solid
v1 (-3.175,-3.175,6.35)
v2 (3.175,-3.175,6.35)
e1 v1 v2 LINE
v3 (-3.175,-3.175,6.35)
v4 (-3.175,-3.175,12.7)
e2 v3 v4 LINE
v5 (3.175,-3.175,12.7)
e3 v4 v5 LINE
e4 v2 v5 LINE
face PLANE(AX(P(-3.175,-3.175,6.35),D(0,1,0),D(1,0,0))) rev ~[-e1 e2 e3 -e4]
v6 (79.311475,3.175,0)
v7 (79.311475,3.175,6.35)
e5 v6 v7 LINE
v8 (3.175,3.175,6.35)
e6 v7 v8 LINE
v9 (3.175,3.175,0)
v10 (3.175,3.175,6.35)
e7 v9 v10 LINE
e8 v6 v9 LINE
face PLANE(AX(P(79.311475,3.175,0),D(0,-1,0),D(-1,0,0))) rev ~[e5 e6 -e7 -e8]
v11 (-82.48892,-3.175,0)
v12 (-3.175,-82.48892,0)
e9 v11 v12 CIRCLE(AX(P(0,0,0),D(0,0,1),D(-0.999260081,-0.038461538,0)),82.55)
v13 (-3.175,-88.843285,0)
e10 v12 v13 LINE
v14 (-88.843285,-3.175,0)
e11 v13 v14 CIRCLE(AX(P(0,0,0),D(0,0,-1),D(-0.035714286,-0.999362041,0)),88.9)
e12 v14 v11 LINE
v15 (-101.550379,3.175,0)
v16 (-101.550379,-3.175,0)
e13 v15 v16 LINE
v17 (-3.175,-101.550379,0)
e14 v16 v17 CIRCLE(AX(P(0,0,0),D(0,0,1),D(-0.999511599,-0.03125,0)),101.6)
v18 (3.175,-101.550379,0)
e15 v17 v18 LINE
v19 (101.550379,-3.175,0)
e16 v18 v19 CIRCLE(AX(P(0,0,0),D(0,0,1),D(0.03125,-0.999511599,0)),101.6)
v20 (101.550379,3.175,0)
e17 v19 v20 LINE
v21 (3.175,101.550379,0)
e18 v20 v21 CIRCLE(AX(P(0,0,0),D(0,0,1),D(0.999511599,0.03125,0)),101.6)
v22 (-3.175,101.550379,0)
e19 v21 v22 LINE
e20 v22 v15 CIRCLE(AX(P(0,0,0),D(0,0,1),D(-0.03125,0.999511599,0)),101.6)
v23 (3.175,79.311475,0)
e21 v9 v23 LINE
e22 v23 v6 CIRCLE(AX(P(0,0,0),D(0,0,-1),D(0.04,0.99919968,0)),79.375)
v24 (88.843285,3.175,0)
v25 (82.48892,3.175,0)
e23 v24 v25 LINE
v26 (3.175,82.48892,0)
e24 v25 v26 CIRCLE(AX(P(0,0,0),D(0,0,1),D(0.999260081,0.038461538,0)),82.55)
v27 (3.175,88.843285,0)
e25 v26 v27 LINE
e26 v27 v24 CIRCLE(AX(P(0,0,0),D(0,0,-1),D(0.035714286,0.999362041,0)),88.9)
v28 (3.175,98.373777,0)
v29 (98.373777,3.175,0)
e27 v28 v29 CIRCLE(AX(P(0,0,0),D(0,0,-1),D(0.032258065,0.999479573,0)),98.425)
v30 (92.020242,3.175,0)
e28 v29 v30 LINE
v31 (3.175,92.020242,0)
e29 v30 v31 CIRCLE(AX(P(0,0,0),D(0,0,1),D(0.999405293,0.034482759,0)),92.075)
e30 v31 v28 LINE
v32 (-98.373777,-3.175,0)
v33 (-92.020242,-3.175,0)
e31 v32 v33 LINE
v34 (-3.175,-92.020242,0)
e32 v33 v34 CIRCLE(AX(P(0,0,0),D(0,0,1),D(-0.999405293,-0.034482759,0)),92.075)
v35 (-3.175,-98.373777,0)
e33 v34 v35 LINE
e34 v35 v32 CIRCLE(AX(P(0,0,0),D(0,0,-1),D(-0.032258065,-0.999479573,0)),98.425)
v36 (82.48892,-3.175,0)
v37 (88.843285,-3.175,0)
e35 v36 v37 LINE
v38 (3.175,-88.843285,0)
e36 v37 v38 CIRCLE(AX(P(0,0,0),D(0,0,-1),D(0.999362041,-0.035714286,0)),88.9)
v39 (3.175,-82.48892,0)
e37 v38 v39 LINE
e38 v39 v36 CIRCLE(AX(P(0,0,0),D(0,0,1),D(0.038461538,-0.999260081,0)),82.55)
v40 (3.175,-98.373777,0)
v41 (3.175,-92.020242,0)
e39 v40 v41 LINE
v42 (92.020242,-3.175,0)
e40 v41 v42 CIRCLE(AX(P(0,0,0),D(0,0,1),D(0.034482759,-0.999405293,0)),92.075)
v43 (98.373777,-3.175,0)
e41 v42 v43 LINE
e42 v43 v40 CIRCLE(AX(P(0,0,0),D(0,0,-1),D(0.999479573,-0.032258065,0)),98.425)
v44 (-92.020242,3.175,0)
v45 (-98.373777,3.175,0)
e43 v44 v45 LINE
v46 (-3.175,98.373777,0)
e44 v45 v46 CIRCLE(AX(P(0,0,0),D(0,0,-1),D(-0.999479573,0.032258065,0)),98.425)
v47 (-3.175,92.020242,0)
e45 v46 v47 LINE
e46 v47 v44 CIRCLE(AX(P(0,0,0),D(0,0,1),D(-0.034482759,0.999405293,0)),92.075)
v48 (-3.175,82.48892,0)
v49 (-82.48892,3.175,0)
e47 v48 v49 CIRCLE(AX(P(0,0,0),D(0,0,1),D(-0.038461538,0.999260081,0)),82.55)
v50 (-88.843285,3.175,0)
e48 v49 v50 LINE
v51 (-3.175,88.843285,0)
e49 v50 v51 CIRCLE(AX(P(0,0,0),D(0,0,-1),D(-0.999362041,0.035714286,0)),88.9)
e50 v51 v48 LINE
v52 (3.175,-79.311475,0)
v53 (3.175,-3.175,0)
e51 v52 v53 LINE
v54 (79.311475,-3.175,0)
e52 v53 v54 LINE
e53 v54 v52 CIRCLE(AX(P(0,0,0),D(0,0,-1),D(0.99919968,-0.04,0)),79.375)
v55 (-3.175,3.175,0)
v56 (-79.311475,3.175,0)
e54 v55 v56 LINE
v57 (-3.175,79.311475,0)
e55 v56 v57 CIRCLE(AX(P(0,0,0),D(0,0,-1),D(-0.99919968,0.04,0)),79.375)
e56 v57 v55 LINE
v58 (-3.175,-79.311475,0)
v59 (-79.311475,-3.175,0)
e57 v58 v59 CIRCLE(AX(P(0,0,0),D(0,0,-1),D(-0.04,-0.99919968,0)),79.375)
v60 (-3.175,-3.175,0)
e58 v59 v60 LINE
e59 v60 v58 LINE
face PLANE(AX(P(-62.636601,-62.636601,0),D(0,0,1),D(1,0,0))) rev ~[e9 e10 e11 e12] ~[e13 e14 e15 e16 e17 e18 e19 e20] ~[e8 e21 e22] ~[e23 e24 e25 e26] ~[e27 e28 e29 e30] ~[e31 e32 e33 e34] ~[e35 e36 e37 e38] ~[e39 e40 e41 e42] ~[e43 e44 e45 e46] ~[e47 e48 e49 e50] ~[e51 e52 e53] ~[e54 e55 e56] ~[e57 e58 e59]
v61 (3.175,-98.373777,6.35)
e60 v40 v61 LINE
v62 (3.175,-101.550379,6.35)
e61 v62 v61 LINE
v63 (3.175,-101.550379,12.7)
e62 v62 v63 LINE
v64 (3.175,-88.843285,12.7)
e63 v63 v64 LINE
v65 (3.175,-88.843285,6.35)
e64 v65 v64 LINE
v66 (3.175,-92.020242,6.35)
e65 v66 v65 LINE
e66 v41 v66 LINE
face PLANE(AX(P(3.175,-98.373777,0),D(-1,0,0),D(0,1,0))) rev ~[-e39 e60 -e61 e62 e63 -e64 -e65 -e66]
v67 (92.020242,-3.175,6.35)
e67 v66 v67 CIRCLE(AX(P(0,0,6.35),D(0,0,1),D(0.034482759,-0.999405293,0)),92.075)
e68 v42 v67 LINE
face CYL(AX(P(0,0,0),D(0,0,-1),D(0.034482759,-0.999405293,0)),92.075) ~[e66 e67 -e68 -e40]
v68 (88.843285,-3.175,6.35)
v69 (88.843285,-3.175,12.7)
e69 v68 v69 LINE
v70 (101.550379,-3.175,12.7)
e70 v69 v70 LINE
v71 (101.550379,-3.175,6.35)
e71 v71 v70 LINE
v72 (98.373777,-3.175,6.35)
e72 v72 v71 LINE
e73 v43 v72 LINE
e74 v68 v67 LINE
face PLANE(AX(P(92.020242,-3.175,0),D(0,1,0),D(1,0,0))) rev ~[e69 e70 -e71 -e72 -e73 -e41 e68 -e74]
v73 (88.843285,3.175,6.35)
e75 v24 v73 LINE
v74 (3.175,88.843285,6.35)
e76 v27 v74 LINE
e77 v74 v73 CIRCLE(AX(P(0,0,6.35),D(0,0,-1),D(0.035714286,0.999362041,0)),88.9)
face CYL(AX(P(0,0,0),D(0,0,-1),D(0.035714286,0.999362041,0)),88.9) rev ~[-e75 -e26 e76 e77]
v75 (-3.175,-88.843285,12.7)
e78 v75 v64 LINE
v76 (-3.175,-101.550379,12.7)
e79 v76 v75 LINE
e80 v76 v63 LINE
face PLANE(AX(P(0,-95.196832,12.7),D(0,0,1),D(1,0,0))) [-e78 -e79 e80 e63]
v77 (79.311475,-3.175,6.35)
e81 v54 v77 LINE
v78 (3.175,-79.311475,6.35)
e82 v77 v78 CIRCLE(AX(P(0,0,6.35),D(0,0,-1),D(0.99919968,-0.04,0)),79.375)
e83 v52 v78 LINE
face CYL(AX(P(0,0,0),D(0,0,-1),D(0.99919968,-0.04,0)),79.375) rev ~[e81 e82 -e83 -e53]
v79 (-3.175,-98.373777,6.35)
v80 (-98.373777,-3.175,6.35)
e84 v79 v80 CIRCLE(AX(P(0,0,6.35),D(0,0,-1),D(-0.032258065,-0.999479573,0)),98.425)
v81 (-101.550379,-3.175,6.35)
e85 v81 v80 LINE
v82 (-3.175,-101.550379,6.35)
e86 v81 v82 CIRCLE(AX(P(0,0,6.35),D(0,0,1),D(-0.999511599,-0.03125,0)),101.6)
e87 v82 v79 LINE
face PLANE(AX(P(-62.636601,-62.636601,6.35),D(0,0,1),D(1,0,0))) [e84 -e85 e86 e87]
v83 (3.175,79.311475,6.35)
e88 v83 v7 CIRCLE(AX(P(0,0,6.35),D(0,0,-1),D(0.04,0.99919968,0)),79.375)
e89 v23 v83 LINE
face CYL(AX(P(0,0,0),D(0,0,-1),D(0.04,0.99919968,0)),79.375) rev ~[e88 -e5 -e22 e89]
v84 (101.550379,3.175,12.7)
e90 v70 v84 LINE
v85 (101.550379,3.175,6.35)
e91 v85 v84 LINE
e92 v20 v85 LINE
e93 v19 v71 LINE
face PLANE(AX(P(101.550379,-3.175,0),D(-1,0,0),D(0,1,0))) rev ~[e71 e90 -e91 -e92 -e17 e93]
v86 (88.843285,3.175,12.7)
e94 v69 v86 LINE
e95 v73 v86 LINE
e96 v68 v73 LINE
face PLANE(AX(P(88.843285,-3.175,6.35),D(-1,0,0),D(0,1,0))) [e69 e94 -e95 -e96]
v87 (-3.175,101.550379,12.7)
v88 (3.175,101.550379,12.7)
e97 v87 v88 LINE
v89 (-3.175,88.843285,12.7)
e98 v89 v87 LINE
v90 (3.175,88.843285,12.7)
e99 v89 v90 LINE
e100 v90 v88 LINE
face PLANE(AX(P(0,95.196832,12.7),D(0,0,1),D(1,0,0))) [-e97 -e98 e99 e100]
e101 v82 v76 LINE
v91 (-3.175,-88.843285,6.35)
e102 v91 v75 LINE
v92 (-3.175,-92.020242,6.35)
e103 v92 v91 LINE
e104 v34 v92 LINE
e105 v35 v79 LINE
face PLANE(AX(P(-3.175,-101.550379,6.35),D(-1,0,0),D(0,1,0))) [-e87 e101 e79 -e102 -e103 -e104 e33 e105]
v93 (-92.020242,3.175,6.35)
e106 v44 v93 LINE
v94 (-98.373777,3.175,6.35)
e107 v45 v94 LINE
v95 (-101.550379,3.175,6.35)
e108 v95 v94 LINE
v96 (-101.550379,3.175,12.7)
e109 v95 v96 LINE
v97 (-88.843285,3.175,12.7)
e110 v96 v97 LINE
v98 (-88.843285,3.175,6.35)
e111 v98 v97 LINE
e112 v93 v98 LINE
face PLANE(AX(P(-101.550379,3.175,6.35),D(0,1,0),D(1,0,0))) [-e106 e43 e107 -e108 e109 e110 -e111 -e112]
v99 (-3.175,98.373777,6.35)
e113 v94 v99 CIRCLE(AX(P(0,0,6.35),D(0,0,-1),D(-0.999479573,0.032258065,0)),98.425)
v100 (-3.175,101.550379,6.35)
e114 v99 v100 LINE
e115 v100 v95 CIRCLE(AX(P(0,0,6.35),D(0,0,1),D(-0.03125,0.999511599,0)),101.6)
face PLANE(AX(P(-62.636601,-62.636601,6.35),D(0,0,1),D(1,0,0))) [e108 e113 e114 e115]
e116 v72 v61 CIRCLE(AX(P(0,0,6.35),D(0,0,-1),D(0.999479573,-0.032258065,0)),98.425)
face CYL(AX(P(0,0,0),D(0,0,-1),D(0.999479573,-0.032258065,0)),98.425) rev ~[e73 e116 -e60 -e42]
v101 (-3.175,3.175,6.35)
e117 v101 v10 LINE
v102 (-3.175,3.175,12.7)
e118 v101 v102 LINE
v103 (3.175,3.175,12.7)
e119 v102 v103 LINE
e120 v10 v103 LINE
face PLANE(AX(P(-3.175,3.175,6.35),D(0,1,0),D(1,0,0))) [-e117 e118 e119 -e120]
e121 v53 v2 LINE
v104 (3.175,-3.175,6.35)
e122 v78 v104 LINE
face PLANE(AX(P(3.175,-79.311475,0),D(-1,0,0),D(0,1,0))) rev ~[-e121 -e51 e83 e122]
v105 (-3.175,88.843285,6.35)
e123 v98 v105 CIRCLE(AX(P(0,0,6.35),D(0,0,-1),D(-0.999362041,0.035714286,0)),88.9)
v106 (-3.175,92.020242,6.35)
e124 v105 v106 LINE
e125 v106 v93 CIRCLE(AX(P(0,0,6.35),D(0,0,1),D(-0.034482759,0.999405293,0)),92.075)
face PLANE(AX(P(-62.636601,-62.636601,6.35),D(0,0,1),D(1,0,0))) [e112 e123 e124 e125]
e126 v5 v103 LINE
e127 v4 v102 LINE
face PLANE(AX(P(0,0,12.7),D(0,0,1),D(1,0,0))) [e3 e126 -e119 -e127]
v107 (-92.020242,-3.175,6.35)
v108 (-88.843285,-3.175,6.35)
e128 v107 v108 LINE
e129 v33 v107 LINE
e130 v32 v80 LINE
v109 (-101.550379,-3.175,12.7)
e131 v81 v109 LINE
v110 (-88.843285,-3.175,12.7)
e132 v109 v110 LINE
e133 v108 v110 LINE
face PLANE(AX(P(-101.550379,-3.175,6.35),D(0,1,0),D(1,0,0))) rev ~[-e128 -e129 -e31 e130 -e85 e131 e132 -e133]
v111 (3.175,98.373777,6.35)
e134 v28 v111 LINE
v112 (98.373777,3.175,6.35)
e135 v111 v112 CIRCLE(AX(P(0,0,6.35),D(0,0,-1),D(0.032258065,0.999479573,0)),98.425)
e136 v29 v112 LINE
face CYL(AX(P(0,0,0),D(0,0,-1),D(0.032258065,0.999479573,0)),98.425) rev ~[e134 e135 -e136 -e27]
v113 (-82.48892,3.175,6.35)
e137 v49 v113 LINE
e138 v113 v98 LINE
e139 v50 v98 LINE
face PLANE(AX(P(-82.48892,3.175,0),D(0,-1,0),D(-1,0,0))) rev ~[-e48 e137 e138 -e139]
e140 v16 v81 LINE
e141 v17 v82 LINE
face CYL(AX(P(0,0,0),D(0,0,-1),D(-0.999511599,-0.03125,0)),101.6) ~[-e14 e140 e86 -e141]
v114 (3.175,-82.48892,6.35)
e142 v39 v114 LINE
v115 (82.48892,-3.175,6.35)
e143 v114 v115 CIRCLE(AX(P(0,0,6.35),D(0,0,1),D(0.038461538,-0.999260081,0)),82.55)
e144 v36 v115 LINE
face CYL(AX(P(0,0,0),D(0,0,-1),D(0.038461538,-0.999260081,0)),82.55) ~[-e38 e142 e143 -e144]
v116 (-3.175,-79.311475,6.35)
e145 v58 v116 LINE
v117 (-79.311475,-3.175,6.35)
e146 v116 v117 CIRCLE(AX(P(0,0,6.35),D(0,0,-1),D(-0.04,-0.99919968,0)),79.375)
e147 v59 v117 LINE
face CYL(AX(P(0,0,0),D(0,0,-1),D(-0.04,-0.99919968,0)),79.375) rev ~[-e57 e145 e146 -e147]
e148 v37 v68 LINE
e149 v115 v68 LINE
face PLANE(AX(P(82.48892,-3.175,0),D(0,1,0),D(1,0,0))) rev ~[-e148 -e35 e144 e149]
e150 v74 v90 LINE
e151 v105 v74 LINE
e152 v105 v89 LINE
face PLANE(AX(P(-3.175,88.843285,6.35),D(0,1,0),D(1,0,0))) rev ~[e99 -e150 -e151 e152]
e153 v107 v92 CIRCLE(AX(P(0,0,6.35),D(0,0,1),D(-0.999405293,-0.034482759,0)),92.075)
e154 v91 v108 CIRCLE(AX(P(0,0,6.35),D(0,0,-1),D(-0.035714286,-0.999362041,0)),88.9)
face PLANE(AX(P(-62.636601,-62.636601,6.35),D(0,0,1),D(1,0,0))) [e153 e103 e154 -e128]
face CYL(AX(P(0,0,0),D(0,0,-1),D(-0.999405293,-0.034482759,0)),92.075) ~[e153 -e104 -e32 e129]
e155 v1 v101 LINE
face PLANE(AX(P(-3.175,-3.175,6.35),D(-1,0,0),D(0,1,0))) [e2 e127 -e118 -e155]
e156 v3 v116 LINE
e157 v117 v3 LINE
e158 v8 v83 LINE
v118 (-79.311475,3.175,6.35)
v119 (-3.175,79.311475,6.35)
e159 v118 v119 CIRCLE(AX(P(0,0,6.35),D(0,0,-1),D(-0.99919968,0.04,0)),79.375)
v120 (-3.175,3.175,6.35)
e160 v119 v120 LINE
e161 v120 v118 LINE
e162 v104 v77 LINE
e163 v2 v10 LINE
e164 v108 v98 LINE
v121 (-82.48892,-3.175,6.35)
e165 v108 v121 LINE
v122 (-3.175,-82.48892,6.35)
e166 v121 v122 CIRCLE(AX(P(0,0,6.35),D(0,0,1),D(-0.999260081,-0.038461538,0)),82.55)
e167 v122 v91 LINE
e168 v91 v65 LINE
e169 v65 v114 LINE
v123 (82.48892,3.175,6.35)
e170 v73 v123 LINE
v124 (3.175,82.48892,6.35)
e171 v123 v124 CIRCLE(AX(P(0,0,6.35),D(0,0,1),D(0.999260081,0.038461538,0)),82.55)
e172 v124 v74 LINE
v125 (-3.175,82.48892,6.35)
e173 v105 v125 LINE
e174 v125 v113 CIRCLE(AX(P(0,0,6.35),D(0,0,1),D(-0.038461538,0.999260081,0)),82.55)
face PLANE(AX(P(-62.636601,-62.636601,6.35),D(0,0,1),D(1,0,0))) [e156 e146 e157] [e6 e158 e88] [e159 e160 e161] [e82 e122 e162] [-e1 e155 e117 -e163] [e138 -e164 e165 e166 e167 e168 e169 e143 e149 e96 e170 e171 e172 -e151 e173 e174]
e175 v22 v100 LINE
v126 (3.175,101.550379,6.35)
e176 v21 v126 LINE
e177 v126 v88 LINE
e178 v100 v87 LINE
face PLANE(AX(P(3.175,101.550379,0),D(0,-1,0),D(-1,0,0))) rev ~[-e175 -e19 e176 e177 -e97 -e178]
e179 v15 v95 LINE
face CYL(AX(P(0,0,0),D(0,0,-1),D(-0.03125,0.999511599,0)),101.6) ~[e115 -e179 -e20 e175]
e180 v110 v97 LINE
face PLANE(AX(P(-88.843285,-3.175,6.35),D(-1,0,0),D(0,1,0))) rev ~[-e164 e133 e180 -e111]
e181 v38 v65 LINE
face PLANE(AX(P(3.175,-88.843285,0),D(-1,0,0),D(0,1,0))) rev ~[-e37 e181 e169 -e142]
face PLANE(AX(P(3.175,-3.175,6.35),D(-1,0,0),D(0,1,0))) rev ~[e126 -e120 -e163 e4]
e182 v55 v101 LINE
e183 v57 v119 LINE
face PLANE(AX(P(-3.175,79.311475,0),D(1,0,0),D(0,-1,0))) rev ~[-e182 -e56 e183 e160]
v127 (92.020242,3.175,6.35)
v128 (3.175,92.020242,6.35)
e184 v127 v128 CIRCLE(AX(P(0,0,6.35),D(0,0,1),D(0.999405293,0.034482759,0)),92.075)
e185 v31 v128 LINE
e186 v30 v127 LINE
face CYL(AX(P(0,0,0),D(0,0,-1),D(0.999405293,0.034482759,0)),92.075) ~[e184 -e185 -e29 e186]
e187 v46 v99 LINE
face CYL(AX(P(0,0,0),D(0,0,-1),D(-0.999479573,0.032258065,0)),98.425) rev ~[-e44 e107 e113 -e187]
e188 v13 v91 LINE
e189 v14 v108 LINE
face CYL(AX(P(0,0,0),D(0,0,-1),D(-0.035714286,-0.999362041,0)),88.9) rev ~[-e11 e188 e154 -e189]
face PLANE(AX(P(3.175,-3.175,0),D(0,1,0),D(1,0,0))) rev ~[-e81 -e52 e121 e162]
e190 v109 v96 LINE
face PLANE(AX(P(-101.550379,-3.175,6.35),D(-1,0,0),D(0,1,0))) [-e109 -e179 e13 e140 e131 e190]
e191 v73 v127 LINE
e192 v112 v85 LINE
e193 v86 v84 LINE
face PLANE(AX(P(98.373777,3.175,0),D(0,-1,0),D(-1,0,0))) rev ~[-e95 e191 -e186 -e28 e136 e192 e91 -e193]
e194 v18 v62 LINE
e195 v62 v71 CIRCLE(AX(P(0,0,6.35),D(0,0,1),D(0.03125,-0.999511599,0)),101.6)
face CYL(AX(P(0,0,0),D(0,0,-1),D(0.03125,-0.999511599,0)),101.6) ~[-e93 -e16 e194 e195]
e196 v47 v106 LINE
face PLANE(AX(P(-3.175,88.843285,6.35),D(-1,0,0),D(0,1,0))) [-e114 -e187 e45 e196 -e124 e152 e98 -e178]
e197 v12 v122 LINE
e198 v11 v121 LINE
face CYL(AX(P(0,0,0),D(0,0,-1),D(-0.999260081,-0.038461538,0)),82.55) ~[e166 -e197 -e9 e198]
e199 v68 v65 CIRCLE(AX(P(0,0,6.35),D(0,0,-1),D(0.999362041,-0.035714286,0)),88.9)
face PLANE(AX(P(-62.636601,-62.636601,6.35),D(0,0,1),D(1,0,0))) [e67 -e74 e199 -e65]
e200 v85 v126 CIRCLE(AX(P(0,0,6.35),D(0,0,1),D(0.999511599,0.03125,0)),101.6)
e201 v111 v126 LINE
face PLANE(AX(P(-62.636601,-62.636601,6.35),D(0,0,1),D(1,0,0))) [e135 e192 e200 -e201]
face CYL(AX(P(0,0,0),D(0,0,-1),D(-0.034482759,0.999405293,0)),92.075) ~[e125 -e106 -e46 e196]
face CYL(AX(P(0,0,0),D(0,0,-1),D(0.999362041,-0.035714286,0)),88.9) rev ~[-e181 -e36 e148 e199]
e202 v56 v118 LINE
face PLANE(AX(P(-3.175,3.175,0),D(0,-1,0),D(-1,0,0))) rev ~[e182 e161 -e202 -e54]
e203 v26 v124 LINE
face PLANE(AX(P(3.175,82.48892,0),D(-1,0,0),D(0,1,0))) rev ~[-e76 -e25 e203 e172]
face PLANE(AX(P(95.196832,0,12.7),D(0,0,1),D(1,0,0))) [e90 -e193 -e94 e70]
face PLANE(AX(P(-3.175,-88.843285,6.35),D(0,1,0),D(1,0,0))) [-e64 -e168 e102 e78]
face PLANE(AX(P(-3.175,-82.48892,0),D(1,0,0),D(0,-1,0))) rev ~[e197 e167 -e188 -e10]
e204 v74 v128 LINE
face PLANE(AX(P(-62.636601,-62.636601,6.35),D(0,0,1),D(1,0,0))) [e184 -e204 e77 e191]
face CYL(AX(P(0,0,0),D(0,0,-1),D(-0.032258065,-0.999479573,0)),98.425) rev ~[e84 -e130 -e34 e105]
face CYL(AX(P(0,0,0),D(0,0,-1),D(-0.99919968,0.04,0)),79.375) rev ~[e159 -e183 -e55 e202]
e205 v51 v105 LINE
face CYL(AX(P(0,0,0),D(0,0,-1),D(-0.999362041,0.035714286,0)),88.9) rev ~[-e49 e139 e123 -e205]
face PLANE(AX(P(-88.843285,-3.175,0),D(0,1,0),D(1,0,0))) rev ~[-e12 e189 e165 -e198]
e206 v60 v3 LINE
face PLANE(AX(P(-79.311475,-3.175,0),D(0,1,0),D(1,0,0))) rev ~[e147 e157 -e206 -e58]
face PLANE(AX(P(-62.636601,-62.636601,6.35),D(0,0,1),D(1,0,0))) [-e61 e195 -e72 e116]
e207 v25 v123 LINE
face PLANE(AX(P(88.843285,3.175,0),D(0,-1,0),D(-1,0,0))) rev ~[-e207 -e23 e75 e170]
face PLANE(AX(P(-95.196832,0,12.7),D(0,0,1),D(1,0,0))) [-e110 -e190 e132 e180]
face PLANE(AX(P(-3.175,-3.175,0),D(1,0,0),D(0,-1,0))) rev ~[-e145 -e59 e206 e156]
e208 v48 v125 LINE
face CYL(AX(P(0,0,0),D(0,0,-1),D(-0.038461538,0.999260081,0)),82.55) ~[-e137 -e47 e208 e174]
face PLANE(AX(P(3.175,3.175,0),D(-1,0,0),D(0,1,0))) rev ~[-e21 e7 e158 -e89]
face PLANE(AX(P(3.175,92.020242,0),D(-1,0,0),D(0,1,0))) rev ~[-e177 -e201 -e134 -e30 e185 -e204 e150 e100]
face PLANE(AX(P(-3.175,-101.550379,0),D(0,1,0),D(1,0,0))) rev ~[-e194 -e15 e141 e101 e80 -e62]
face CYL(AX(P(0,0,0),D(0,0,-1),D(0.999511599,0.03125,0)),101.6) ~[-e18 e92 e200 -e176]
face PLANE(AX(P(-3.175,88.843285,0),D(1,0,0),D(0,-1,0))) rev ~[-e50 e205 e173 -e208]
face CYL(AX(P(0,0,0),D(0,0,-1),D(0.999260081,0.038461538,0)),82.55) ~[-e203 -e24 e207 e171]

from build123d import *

# Parameters (mm, degrees)
F0_W     = 6.35
F0_H     = 6.35
F1_DEPTH = 6.35
F2_W     = 12.7070930267
F2_H     = 6.35
F2_W_2   = 6.35
F2_H_2   = 12.7070930267
F3_DEPTH = 6.35


with BuildPart() as f1:
    # F0 (on Top) → F1 (new body)
    with BuildSketch(Plane.XY):
        with BuildLine():
            ThreePointArc((-101.5503785074, -3.175), (-71.8420489686, -71.8420489686), (-3.175, -101.5503785074))
            Line((-3.175, -101.5503785074), (-3.175, -98.3737769937))
            ThreePointArc((-3.175, -98.3737769937), (-69.5969849383, -69.5969849383), (-98.3737769937, -3.175))
            Line((-98.3737769937, -3.175), (-101.5503785074, -3.175))
        make_face()
        with BuildLine():
            Line((-3.175, 98.3737769937), (-3.175, 101.5503785074))
            ThreePointArc((-3.175, 101.5503785074), (-71.8420489686, 71.8420489686), (-101.5503785074, 3.175))
            Line((-101.5503785074, 3.175), (-98.3737769937, 3.175))
            ThreePointArc((-98.3737769937, 3.175), (-69.5969849383, 69.5969849383), (-3.175, 98.3737769937))
        make_face()
        with BuildLine():
            Line((-98.3737769937, 3.175), (-101.5503785074, 3.175))
            Line((-101.5503785074, 3.175), (-101.5503785074, -3.175))
            Line((-101.5503785074, -3.175), (-98.3737769937, -3.175))
            ThreePointArc((-98.3737769937, -3.175), (-98.425, 0), (-98.3737769937, 3.175))
        make_face()
        with BuildLine():
            Line((-92.0202423383, 3.175), (-98.3737769937, 3.175))
            ThreePointArc((-98.3737769937, 3.175), (-98.425, 0), (-98.3737769937, -3.175))
            Line((-98.3737769937, -3.175), (-92.0202423383, -3.175))
            ThreePointArc((-92.0202423383, -3.175), (-92.075, 0), (-92.0202423383, 3.175))
        make_face()
        with BuildLine():
            Line((-88.8432854807, 3.175), (-92.0202423383, 3.175))
            ThreePointArc((-92.0202423383, 3.175), (-92.075, 0), (-92.0202423383, -3.175))
            Line((-92.0202423383, -3.175), (-88.8432854807, -3.175))
            ThreePointArc((-88.8432854807, -3.175), (-88.9, 0), (-88.8432854807, 3.175))
        make_face()
        with BuildLine():
            Line((-79.3114745797, 3.175), (-82.4889197105, 3.175))
            ThreePointArc((-82.4889197105, 3.175), (-82.55, 0), (-82.4889197105, -3.175))
            Line((-82.4889197105, -3.175), (-79.3114745797, -3.175))
            ThreePointArc((-79.3114745797, -3.175), (-79.375, 0), (-79.3114745797, 3.175))
        make_face()
        with BuildLine():
            Line((-82.4889197105, 3.175), (-88.8432854807, 3.175))
            ThreePointArc((-88.8432854807, 3.175), (-88.9, 0), (-88.8432854807, -3.175))
            Line((-88.8432854807, -3.175), (-82.4889197105, -3.175))
            ThreePointArc((-82.4889197105, -3.175), (-82.55, 0), (-82.4889197105, 3.175))
        make_face()
        with BuildLine():
            Line((-3.175, -3.175), (-3.175, 3.175))
            Line((-3.175, 3.175), (-79.3114745797, 3.175))
            ThreePointArc((-79.3114745797, 3.175), (-79.375, 0), (-79.3114745797, -3.175))
            Line((-79.3114745797, -3.175), (-3.175, -3.175))
        make_face()
        with BuildLine():
            ThreePointArc((79.375, 0), (79.3591170558, 1.5878177225), (79.3114745797, 3.175))
            Line((79.3114745797, 3.175), (3.175, 3.175))
            Line((3.175, 3.175), (3.175, -3.175))
            Line((3.175, -3.175), (79.3114745797, -3.175))
            ThreePointArc((79.3114745797, -3.175), (79.3591170558, -1.5878177225), (79.375, 0))
        make_face()
        with BuildLine():
            ThreePointArc((-3.175, -79.3114745797), (0, -79.375), (3.175, -79.3114745797))
            Line((3.175, -79.3114745797), (3.175, -3.175))
            Line((3.175, -3.175), (-3.175, -3.175))
            Line((-3.175, -3.175), (-3.175, -79.3114745797))
        make_face()
        with BuildLine():
            Line((3.175, 3.175), (3.175, 79.3114745797))
            ThreePointArc((3.175, 79.3114745797), (0, 79.375), (-3.175, 79.3114745797))
            Line((-3.175, 79.3114745797), (-3.175, 3.175))
            Line((-3.175, 3.175), (3.175, 3.175))
        make_face()
        Rectangle(F0_W, F0_H)
        with BuildLine():
            ThreePointArc((82.55, 0), (82.534728515, 1.5877937367), (82.4889197105, 3.175))
            Line((82.4889197105, 3.175), (79.3114745797, 3.175))
            ThreePointArc((79.3114745797, 3.175), (79.3591170558, 1.5878177225), (79.375, 0))
            ThreePointArc((79.375, 0), (79.3591170558, -1.5878177225), (79.3114745797, -3.175))
            Line((79.3114745797, -3.175), (82.4889197105, -3.175))
            ThreePointArc((82.4889197105, -3.175), (82.534728515, -1.5877937367), (82.55, 0))
        make_face()
        with BuildLine():
            ThreePointArc((88.9, 0), (88.8858202393, 1.5877532504), (88.8432854807, 3.175))
            Line((88.8432854807, 3.175), (82.4889197105, 3.175))
            ThreePointArc((82.4889197105, 3.175), (82.534728515, 1.5877937367), (82.55, 0))
            ThreePointArc((82.55, 0), (82.534728515, -1.5877937367), (82.4889197105, -3.175))
            Line((82.4889197105, -3.175), (88.8432854807, -3.175))
            ThreePointArc((88.8432854807, -3.175), (88.8858202393, -1.5877532504), (88.9, 0))
        make_face()
        with BuildLine():
            ThreePointArc((92.075, 0), (92.0613095668, 1.5877360771), (92.0202423383, 3.175))
            Line((92.0202423383, 3.175), (88.8432854807, 3.175))
            ThreePointArc((88.8432854807, 3.175), (88.8858202393, 1.5877532504), (88.9, 0))
            ThreePointArc((88.9, 0), (88.8858202393, -1.5877532504), (88.8432854807, -3.175))
            Line((88.8432854807, -3.175), (92.0202423383, -3.175))
            ThreePointArc((92.0202423383, -3.175), (92.0613095668, -1.5877360771), (92.075, 0))
        make_face()
        with BuildLine():
            ThreePointArc((98.425, 0), (98.4121934153, 1.5877065847), (98.3737769937, 3.175))
            Line((98.3737769937, 3.175), (92.0202423383, 3.175))
            ThreePointArc((92.0202423383, 3.175), (92.0613095668, 1.5877360771), (92.075, 0))
            ThreePointArc((92.075, 0), (92.0613095668, -1.5877360771), (92.0202423383, -3.175))
            Line((92.0202423383, -3.175), (98.3737769937, -3.175))
            ThreePointArc((98.3737769937, -3.175), (98.4121934153, -1.5877065847), (98.425, 0))
        make_face()
        with BuildLine():
            Line((101.5503785074, -3.175), (101.5503785074, 3.175))
            Line((101.5503785074, 3.175), (98.3737769937, 3.175))
            ThreePointArc((98.3737769937, 3.175), (98.4121934153, 1.5877065847), (98.425, 0))
            ThreePointArc((98.425, 0), (98.4121934153, -1.5877065847), (98.3737769937, -3.175))
            Line((98.3737769937, -3.175), (101.5503785074, -3.175))
        make_face()
        with BuildLine():
            Line((-3.175, -101.5503785074), (3.175, -101.5503785074))
            Line((3.175, -101.5503785074), (3.175, -98.3737769937))
            ThreePointArc((3.175, -98.3737769937), (0, -98.425), (-3.175, -98.3737769937))
            Line((-3.175, -98.3737769937), (-3.175, -101.5503785074))
        make_face()
        with BuildLine():
            ThreePointArc((-3.175, -92.0202423383), (0, -92.075), (3.175, -92.0202423383))
            Line((3.175, -92.0202423383), (3.175, -88.8432854807))
            ThreePointArc((3.175, -88.8432854807), (0, -88.9), (-3.175, -88.8432854807))
            Line((-3.175, -88.8432854807), (-3.175, -92.0202423383))
        make_face()
        with BuildLine():
            ThreePointArc((-3.175, -82.4889197105), (0, -82.55), (3.175, -82.4889197105))
            Line((3.175, -82.4889197105), (3.175, -79.3114745797))
            ThreePointArc((3.175, -79.3114745797), (0, -79.375), (-3.175, -79.3114745797))
            Line((-3.175, -79.3114745797), (-3.175, -82.4889197105))
        make_face()
        with BuildLine():
            ThreePointArc((3.175, -101.5503785074), (71.8420489686, -71.8420489686), (101.5503785074, -3.175))
            Line((101.5503785074, -3.175), (98.3737769937, -3.175))
            ThreePointArc((98.3737769937, -3.175), (69.5969849383, -69.5969849383), (3.175, -98.3737769937))
            Line((3.175, -98.3737769937), (3.175, -101.5503785074))
        make_face()
        with BuildLine():
            ThreePointArc((3.175, -92.0202423383), (65.1068568778, -65.1068568778), (92.0202423383, -3.175))
            Line((92.0202423383, -3.175), (88.8432854807, -3.175))
            ThreePointArc((88.8432854807, -3.175), (62.8617928475, -62.8617928475), (3.175, -88.8432854807))
            Line((3.175, -88.8432854807), (3.175, -92.0202423383))
        make_face()
        with BuildLine():
            ThreePointArc((3.175, -82.4889197105), (58.3716647869, -58.3716647869), (82.4889197105, -3.175))
            Line((82.4889197105, -3.175), (79.3114745797, -3.175))
            ThreePointArc((79.3114745797, -3.175), (56.1266007567, -56.1266007567), (3.175, -79.3114745797))
            Line((3.175, -79.3114745797), (3.175, -82.4889197105))
        make_face()
        with BuildLine():
            ThreePointArc((-92.0202423383, -3.175), (-65.1068568778, -65.1068568778), (-3.175, -92.0202423383))
            Line((-3.175, -92.0202423383), (-3.175, -88.8432854807))
            ThreePointArc((-3.175, -88.8432854807), (-62.8617928475, -62.8617928475), (-88.8432854807, -3.175))
            Line((-88.8432854807, -3.175), (-92.0202423383, -3.175))
        make_face()
        with BuildLine():
            ThreePointArc((-82.4889197105, -3.175), (-58.371664787, -58.3716647869), (-3.175, -82.4889197105))
            Line((-3.175, -82.4889197105), (-3.175, -79.3114745797))
            ThreePointArc((-3.175, -79.3114745797), (-56.1266007567, -56.1266007567), (-79.3114745797, -3.175))
            Line((-79.3114745797, -3.175), (-82.4889197105, -3.175))
        make_face()
        with BuildLine():
            Line((-3.175, 79.3114745797), (-3.175, 82.4889197105))
            ThreePointArc((-3.175, 82.4889197105), (-58.371664787, 58.3716647869), (-82.4889197105, 3.175))
            Line((-82.4889197105, 3.175), (-79.3114745797, 3.175))
            ThreePointArc((-79.3114745797, 3.175), (-56.1266007567, 56.1266007567), (-3.175, 79.3114745797))
        make_face()
        with BuildLine():
            Line((-3.175, 88.8432854807), (-3.175, 92.0202423383))
            ThreePointArc((-3.175, 92.0202423383), (-65.1068568778, 65.1068568778), (-92.0202423383, 3.175))
            Line((-92.0202423383, 3.175), (-88.8432854807, 3.175))
            ThreePointArc((-88.8432854807, 3.175), (-62.8617928475, 62.8617928475), (-3.175, 88.8432854807))
        make_face()
        with BuildLine():
            Line((3.175, 79.3114745797), (3.175, 82.4889197105))
            ThreePointArc((3.175, 82.4889197105), (0, 82.55), (-3.175, 82.4889197105))
            Line((-3.175, 82.4889197105), (-3.175, 79.3114745797))
            ThreePointArc((-3.175, 79.3114745797), (0, 79.375), (3.175, 79.3114745797))
        make_face()
        with BuildLine():
            Line((3.175, 88.8432854807), (3.175, 92.0202423383))
            ThreePointArc((3.175, 92.0202423383), (0, 92.075), (-3.175, 92.0202423383))
            Line((-3.175, 92.0202423383), (-3.175, 88.8432854807))
            ThreePointArc((-3.175, 88.8432854807), (0, 88.9), (3.175, 88.8432854807))
        make_face()
        with BuildLine():
            Line((3.175, 98.3737769937), (3.175, 101.5503785074))
            Line((3.175, 101.5503785074), (-3.175, 101.5503785074))
            Line((-3.175, 101.5503785074), (-3.175, 98.3737769937))
            ThreePointArc((-3.175, 98.3737769937), (0, 98.425), (3.175, 98.3737769937))
        make_face()
        with BuildLine():
            Line((98.3737769937, 3.175), (101.5503785074, 3.175))
            ThreePointArc((101.5503785074, 3.175), (71.8420489686, 71.8420489686), (3.175, 101.5503785074))
            Line((3.175, 101.5503785074), (3.175, 98.3737769937))
            ThreePointArc((3.175, 98.3737769937), (69.5969849383, 69.5969849383), (98.3737769937, 3.175))
        make_face()
        with BuildLine():
            Line((88.8432854807, 3.175), (92.0202423383, 3.175))
            ThreePointArc((92.0202423383, 3.175), (65.1068568778, 65.1068568778), (3.175, 92.0202423383))
            Line((3.175, 92.0202423383), (3.175, 88.8432854807))
            ThreePointArc((3.175, 88.8432854807), (62.8617928475, 62.8617928475), (88.8432854807, 3.175))
        make_face()
        with BuildLine():
            Line((79.3114745797, 3.175), (82.4889197105, 3.175))
            ThreePointArc((82.4889197105, 3.175), (58.3716647869, 58.3716647869), (3.175, 82.4889197105))
            Line((3.175, 82.4889197105), (3.175, 79.3114745797))
            ThreePointArc((3.175, 79.3114745797), (56.1266007567, 56.1266007567), (79.3114745797, 3.175))
        make_face()
        with BuildLine():
            ThreePointArc((-3.175, -88.8432854807), (0, -88.9), (3.175, -88.8432854807))
            Line((3.175, -88.8432854807), (3.175, -82.4889197105))
            ThreePointArc((3.175, -82.4889197105), (0, -82.55), (-3.175, -82.4889197105))
            Line((-3.175, -82.4889197105), (-3.175, -88.8432854807))
        make_face()
        with BuildLine():
            ThreePointArc((-3.175, -98.3737769937), (0, -98.425), (3.175, -98.3737769937))
            Line((3.175, -98.3737769937), (3.175, -92.0202423383))
            ThreePointArc((3.175, -92.0202423383), (0, -92.075), (-3.175, -92.0202423383))
            Line((-3.175, -92.0202423383), (-3.175, -98.3737769937))
        make_face()
        with BuildLine():
            Line((3.175, 82.4889197105), (3.175, 88.8432854807))
            ThreePointArc((3.175, 88.8432854807), (0, 88.9), (-3.175, 88.8432854807))
            Line((-3.175, 88.8432854807), (-3.175, 82.4889197105))
            ThreePointArc((-3.175, 82.4889197105), (0, 82.55), (3.175, 82.4889197105))
        make_face()
        with BuildLine():
            Line((3.175, 92.0202423383), (3.175, 98.3737769937))
            ThreePointArc((3.175, 98.3737769937), (0, 98.425), (-3.175, 98.3737769937))
            Line((-3.175, 98.3737769937), (-3.175, 92.0202423383))
            ThreePointArc((-3.175, 92.0202423383), (0, 92.075), (3.175, 92.0202423383))
        make_face()
    extrude(amount=F1_DEPTH)

    # F2 (on face) → F3 (join)
    with BuildSketch(Plane.XY.offset(6.35)):
        with Locations((-95.196831994, 0)):
            Rectangle(F2_W, F2_H)
        with Locations((95.196831994, 0)):
            Rectangle(F2_W, F2_H)
        with Locations((0, 95.196831994)):
            Rectangle(F2_W_2, F2_H_2)
        with Locations((0, -95.196831994)):
            Rectangle(F2_W_2, F2_H_2)
        Rectangle(F2_W_2, F2_H)
    extrude(amount=F3_DEPTH)


solid = f1.part
